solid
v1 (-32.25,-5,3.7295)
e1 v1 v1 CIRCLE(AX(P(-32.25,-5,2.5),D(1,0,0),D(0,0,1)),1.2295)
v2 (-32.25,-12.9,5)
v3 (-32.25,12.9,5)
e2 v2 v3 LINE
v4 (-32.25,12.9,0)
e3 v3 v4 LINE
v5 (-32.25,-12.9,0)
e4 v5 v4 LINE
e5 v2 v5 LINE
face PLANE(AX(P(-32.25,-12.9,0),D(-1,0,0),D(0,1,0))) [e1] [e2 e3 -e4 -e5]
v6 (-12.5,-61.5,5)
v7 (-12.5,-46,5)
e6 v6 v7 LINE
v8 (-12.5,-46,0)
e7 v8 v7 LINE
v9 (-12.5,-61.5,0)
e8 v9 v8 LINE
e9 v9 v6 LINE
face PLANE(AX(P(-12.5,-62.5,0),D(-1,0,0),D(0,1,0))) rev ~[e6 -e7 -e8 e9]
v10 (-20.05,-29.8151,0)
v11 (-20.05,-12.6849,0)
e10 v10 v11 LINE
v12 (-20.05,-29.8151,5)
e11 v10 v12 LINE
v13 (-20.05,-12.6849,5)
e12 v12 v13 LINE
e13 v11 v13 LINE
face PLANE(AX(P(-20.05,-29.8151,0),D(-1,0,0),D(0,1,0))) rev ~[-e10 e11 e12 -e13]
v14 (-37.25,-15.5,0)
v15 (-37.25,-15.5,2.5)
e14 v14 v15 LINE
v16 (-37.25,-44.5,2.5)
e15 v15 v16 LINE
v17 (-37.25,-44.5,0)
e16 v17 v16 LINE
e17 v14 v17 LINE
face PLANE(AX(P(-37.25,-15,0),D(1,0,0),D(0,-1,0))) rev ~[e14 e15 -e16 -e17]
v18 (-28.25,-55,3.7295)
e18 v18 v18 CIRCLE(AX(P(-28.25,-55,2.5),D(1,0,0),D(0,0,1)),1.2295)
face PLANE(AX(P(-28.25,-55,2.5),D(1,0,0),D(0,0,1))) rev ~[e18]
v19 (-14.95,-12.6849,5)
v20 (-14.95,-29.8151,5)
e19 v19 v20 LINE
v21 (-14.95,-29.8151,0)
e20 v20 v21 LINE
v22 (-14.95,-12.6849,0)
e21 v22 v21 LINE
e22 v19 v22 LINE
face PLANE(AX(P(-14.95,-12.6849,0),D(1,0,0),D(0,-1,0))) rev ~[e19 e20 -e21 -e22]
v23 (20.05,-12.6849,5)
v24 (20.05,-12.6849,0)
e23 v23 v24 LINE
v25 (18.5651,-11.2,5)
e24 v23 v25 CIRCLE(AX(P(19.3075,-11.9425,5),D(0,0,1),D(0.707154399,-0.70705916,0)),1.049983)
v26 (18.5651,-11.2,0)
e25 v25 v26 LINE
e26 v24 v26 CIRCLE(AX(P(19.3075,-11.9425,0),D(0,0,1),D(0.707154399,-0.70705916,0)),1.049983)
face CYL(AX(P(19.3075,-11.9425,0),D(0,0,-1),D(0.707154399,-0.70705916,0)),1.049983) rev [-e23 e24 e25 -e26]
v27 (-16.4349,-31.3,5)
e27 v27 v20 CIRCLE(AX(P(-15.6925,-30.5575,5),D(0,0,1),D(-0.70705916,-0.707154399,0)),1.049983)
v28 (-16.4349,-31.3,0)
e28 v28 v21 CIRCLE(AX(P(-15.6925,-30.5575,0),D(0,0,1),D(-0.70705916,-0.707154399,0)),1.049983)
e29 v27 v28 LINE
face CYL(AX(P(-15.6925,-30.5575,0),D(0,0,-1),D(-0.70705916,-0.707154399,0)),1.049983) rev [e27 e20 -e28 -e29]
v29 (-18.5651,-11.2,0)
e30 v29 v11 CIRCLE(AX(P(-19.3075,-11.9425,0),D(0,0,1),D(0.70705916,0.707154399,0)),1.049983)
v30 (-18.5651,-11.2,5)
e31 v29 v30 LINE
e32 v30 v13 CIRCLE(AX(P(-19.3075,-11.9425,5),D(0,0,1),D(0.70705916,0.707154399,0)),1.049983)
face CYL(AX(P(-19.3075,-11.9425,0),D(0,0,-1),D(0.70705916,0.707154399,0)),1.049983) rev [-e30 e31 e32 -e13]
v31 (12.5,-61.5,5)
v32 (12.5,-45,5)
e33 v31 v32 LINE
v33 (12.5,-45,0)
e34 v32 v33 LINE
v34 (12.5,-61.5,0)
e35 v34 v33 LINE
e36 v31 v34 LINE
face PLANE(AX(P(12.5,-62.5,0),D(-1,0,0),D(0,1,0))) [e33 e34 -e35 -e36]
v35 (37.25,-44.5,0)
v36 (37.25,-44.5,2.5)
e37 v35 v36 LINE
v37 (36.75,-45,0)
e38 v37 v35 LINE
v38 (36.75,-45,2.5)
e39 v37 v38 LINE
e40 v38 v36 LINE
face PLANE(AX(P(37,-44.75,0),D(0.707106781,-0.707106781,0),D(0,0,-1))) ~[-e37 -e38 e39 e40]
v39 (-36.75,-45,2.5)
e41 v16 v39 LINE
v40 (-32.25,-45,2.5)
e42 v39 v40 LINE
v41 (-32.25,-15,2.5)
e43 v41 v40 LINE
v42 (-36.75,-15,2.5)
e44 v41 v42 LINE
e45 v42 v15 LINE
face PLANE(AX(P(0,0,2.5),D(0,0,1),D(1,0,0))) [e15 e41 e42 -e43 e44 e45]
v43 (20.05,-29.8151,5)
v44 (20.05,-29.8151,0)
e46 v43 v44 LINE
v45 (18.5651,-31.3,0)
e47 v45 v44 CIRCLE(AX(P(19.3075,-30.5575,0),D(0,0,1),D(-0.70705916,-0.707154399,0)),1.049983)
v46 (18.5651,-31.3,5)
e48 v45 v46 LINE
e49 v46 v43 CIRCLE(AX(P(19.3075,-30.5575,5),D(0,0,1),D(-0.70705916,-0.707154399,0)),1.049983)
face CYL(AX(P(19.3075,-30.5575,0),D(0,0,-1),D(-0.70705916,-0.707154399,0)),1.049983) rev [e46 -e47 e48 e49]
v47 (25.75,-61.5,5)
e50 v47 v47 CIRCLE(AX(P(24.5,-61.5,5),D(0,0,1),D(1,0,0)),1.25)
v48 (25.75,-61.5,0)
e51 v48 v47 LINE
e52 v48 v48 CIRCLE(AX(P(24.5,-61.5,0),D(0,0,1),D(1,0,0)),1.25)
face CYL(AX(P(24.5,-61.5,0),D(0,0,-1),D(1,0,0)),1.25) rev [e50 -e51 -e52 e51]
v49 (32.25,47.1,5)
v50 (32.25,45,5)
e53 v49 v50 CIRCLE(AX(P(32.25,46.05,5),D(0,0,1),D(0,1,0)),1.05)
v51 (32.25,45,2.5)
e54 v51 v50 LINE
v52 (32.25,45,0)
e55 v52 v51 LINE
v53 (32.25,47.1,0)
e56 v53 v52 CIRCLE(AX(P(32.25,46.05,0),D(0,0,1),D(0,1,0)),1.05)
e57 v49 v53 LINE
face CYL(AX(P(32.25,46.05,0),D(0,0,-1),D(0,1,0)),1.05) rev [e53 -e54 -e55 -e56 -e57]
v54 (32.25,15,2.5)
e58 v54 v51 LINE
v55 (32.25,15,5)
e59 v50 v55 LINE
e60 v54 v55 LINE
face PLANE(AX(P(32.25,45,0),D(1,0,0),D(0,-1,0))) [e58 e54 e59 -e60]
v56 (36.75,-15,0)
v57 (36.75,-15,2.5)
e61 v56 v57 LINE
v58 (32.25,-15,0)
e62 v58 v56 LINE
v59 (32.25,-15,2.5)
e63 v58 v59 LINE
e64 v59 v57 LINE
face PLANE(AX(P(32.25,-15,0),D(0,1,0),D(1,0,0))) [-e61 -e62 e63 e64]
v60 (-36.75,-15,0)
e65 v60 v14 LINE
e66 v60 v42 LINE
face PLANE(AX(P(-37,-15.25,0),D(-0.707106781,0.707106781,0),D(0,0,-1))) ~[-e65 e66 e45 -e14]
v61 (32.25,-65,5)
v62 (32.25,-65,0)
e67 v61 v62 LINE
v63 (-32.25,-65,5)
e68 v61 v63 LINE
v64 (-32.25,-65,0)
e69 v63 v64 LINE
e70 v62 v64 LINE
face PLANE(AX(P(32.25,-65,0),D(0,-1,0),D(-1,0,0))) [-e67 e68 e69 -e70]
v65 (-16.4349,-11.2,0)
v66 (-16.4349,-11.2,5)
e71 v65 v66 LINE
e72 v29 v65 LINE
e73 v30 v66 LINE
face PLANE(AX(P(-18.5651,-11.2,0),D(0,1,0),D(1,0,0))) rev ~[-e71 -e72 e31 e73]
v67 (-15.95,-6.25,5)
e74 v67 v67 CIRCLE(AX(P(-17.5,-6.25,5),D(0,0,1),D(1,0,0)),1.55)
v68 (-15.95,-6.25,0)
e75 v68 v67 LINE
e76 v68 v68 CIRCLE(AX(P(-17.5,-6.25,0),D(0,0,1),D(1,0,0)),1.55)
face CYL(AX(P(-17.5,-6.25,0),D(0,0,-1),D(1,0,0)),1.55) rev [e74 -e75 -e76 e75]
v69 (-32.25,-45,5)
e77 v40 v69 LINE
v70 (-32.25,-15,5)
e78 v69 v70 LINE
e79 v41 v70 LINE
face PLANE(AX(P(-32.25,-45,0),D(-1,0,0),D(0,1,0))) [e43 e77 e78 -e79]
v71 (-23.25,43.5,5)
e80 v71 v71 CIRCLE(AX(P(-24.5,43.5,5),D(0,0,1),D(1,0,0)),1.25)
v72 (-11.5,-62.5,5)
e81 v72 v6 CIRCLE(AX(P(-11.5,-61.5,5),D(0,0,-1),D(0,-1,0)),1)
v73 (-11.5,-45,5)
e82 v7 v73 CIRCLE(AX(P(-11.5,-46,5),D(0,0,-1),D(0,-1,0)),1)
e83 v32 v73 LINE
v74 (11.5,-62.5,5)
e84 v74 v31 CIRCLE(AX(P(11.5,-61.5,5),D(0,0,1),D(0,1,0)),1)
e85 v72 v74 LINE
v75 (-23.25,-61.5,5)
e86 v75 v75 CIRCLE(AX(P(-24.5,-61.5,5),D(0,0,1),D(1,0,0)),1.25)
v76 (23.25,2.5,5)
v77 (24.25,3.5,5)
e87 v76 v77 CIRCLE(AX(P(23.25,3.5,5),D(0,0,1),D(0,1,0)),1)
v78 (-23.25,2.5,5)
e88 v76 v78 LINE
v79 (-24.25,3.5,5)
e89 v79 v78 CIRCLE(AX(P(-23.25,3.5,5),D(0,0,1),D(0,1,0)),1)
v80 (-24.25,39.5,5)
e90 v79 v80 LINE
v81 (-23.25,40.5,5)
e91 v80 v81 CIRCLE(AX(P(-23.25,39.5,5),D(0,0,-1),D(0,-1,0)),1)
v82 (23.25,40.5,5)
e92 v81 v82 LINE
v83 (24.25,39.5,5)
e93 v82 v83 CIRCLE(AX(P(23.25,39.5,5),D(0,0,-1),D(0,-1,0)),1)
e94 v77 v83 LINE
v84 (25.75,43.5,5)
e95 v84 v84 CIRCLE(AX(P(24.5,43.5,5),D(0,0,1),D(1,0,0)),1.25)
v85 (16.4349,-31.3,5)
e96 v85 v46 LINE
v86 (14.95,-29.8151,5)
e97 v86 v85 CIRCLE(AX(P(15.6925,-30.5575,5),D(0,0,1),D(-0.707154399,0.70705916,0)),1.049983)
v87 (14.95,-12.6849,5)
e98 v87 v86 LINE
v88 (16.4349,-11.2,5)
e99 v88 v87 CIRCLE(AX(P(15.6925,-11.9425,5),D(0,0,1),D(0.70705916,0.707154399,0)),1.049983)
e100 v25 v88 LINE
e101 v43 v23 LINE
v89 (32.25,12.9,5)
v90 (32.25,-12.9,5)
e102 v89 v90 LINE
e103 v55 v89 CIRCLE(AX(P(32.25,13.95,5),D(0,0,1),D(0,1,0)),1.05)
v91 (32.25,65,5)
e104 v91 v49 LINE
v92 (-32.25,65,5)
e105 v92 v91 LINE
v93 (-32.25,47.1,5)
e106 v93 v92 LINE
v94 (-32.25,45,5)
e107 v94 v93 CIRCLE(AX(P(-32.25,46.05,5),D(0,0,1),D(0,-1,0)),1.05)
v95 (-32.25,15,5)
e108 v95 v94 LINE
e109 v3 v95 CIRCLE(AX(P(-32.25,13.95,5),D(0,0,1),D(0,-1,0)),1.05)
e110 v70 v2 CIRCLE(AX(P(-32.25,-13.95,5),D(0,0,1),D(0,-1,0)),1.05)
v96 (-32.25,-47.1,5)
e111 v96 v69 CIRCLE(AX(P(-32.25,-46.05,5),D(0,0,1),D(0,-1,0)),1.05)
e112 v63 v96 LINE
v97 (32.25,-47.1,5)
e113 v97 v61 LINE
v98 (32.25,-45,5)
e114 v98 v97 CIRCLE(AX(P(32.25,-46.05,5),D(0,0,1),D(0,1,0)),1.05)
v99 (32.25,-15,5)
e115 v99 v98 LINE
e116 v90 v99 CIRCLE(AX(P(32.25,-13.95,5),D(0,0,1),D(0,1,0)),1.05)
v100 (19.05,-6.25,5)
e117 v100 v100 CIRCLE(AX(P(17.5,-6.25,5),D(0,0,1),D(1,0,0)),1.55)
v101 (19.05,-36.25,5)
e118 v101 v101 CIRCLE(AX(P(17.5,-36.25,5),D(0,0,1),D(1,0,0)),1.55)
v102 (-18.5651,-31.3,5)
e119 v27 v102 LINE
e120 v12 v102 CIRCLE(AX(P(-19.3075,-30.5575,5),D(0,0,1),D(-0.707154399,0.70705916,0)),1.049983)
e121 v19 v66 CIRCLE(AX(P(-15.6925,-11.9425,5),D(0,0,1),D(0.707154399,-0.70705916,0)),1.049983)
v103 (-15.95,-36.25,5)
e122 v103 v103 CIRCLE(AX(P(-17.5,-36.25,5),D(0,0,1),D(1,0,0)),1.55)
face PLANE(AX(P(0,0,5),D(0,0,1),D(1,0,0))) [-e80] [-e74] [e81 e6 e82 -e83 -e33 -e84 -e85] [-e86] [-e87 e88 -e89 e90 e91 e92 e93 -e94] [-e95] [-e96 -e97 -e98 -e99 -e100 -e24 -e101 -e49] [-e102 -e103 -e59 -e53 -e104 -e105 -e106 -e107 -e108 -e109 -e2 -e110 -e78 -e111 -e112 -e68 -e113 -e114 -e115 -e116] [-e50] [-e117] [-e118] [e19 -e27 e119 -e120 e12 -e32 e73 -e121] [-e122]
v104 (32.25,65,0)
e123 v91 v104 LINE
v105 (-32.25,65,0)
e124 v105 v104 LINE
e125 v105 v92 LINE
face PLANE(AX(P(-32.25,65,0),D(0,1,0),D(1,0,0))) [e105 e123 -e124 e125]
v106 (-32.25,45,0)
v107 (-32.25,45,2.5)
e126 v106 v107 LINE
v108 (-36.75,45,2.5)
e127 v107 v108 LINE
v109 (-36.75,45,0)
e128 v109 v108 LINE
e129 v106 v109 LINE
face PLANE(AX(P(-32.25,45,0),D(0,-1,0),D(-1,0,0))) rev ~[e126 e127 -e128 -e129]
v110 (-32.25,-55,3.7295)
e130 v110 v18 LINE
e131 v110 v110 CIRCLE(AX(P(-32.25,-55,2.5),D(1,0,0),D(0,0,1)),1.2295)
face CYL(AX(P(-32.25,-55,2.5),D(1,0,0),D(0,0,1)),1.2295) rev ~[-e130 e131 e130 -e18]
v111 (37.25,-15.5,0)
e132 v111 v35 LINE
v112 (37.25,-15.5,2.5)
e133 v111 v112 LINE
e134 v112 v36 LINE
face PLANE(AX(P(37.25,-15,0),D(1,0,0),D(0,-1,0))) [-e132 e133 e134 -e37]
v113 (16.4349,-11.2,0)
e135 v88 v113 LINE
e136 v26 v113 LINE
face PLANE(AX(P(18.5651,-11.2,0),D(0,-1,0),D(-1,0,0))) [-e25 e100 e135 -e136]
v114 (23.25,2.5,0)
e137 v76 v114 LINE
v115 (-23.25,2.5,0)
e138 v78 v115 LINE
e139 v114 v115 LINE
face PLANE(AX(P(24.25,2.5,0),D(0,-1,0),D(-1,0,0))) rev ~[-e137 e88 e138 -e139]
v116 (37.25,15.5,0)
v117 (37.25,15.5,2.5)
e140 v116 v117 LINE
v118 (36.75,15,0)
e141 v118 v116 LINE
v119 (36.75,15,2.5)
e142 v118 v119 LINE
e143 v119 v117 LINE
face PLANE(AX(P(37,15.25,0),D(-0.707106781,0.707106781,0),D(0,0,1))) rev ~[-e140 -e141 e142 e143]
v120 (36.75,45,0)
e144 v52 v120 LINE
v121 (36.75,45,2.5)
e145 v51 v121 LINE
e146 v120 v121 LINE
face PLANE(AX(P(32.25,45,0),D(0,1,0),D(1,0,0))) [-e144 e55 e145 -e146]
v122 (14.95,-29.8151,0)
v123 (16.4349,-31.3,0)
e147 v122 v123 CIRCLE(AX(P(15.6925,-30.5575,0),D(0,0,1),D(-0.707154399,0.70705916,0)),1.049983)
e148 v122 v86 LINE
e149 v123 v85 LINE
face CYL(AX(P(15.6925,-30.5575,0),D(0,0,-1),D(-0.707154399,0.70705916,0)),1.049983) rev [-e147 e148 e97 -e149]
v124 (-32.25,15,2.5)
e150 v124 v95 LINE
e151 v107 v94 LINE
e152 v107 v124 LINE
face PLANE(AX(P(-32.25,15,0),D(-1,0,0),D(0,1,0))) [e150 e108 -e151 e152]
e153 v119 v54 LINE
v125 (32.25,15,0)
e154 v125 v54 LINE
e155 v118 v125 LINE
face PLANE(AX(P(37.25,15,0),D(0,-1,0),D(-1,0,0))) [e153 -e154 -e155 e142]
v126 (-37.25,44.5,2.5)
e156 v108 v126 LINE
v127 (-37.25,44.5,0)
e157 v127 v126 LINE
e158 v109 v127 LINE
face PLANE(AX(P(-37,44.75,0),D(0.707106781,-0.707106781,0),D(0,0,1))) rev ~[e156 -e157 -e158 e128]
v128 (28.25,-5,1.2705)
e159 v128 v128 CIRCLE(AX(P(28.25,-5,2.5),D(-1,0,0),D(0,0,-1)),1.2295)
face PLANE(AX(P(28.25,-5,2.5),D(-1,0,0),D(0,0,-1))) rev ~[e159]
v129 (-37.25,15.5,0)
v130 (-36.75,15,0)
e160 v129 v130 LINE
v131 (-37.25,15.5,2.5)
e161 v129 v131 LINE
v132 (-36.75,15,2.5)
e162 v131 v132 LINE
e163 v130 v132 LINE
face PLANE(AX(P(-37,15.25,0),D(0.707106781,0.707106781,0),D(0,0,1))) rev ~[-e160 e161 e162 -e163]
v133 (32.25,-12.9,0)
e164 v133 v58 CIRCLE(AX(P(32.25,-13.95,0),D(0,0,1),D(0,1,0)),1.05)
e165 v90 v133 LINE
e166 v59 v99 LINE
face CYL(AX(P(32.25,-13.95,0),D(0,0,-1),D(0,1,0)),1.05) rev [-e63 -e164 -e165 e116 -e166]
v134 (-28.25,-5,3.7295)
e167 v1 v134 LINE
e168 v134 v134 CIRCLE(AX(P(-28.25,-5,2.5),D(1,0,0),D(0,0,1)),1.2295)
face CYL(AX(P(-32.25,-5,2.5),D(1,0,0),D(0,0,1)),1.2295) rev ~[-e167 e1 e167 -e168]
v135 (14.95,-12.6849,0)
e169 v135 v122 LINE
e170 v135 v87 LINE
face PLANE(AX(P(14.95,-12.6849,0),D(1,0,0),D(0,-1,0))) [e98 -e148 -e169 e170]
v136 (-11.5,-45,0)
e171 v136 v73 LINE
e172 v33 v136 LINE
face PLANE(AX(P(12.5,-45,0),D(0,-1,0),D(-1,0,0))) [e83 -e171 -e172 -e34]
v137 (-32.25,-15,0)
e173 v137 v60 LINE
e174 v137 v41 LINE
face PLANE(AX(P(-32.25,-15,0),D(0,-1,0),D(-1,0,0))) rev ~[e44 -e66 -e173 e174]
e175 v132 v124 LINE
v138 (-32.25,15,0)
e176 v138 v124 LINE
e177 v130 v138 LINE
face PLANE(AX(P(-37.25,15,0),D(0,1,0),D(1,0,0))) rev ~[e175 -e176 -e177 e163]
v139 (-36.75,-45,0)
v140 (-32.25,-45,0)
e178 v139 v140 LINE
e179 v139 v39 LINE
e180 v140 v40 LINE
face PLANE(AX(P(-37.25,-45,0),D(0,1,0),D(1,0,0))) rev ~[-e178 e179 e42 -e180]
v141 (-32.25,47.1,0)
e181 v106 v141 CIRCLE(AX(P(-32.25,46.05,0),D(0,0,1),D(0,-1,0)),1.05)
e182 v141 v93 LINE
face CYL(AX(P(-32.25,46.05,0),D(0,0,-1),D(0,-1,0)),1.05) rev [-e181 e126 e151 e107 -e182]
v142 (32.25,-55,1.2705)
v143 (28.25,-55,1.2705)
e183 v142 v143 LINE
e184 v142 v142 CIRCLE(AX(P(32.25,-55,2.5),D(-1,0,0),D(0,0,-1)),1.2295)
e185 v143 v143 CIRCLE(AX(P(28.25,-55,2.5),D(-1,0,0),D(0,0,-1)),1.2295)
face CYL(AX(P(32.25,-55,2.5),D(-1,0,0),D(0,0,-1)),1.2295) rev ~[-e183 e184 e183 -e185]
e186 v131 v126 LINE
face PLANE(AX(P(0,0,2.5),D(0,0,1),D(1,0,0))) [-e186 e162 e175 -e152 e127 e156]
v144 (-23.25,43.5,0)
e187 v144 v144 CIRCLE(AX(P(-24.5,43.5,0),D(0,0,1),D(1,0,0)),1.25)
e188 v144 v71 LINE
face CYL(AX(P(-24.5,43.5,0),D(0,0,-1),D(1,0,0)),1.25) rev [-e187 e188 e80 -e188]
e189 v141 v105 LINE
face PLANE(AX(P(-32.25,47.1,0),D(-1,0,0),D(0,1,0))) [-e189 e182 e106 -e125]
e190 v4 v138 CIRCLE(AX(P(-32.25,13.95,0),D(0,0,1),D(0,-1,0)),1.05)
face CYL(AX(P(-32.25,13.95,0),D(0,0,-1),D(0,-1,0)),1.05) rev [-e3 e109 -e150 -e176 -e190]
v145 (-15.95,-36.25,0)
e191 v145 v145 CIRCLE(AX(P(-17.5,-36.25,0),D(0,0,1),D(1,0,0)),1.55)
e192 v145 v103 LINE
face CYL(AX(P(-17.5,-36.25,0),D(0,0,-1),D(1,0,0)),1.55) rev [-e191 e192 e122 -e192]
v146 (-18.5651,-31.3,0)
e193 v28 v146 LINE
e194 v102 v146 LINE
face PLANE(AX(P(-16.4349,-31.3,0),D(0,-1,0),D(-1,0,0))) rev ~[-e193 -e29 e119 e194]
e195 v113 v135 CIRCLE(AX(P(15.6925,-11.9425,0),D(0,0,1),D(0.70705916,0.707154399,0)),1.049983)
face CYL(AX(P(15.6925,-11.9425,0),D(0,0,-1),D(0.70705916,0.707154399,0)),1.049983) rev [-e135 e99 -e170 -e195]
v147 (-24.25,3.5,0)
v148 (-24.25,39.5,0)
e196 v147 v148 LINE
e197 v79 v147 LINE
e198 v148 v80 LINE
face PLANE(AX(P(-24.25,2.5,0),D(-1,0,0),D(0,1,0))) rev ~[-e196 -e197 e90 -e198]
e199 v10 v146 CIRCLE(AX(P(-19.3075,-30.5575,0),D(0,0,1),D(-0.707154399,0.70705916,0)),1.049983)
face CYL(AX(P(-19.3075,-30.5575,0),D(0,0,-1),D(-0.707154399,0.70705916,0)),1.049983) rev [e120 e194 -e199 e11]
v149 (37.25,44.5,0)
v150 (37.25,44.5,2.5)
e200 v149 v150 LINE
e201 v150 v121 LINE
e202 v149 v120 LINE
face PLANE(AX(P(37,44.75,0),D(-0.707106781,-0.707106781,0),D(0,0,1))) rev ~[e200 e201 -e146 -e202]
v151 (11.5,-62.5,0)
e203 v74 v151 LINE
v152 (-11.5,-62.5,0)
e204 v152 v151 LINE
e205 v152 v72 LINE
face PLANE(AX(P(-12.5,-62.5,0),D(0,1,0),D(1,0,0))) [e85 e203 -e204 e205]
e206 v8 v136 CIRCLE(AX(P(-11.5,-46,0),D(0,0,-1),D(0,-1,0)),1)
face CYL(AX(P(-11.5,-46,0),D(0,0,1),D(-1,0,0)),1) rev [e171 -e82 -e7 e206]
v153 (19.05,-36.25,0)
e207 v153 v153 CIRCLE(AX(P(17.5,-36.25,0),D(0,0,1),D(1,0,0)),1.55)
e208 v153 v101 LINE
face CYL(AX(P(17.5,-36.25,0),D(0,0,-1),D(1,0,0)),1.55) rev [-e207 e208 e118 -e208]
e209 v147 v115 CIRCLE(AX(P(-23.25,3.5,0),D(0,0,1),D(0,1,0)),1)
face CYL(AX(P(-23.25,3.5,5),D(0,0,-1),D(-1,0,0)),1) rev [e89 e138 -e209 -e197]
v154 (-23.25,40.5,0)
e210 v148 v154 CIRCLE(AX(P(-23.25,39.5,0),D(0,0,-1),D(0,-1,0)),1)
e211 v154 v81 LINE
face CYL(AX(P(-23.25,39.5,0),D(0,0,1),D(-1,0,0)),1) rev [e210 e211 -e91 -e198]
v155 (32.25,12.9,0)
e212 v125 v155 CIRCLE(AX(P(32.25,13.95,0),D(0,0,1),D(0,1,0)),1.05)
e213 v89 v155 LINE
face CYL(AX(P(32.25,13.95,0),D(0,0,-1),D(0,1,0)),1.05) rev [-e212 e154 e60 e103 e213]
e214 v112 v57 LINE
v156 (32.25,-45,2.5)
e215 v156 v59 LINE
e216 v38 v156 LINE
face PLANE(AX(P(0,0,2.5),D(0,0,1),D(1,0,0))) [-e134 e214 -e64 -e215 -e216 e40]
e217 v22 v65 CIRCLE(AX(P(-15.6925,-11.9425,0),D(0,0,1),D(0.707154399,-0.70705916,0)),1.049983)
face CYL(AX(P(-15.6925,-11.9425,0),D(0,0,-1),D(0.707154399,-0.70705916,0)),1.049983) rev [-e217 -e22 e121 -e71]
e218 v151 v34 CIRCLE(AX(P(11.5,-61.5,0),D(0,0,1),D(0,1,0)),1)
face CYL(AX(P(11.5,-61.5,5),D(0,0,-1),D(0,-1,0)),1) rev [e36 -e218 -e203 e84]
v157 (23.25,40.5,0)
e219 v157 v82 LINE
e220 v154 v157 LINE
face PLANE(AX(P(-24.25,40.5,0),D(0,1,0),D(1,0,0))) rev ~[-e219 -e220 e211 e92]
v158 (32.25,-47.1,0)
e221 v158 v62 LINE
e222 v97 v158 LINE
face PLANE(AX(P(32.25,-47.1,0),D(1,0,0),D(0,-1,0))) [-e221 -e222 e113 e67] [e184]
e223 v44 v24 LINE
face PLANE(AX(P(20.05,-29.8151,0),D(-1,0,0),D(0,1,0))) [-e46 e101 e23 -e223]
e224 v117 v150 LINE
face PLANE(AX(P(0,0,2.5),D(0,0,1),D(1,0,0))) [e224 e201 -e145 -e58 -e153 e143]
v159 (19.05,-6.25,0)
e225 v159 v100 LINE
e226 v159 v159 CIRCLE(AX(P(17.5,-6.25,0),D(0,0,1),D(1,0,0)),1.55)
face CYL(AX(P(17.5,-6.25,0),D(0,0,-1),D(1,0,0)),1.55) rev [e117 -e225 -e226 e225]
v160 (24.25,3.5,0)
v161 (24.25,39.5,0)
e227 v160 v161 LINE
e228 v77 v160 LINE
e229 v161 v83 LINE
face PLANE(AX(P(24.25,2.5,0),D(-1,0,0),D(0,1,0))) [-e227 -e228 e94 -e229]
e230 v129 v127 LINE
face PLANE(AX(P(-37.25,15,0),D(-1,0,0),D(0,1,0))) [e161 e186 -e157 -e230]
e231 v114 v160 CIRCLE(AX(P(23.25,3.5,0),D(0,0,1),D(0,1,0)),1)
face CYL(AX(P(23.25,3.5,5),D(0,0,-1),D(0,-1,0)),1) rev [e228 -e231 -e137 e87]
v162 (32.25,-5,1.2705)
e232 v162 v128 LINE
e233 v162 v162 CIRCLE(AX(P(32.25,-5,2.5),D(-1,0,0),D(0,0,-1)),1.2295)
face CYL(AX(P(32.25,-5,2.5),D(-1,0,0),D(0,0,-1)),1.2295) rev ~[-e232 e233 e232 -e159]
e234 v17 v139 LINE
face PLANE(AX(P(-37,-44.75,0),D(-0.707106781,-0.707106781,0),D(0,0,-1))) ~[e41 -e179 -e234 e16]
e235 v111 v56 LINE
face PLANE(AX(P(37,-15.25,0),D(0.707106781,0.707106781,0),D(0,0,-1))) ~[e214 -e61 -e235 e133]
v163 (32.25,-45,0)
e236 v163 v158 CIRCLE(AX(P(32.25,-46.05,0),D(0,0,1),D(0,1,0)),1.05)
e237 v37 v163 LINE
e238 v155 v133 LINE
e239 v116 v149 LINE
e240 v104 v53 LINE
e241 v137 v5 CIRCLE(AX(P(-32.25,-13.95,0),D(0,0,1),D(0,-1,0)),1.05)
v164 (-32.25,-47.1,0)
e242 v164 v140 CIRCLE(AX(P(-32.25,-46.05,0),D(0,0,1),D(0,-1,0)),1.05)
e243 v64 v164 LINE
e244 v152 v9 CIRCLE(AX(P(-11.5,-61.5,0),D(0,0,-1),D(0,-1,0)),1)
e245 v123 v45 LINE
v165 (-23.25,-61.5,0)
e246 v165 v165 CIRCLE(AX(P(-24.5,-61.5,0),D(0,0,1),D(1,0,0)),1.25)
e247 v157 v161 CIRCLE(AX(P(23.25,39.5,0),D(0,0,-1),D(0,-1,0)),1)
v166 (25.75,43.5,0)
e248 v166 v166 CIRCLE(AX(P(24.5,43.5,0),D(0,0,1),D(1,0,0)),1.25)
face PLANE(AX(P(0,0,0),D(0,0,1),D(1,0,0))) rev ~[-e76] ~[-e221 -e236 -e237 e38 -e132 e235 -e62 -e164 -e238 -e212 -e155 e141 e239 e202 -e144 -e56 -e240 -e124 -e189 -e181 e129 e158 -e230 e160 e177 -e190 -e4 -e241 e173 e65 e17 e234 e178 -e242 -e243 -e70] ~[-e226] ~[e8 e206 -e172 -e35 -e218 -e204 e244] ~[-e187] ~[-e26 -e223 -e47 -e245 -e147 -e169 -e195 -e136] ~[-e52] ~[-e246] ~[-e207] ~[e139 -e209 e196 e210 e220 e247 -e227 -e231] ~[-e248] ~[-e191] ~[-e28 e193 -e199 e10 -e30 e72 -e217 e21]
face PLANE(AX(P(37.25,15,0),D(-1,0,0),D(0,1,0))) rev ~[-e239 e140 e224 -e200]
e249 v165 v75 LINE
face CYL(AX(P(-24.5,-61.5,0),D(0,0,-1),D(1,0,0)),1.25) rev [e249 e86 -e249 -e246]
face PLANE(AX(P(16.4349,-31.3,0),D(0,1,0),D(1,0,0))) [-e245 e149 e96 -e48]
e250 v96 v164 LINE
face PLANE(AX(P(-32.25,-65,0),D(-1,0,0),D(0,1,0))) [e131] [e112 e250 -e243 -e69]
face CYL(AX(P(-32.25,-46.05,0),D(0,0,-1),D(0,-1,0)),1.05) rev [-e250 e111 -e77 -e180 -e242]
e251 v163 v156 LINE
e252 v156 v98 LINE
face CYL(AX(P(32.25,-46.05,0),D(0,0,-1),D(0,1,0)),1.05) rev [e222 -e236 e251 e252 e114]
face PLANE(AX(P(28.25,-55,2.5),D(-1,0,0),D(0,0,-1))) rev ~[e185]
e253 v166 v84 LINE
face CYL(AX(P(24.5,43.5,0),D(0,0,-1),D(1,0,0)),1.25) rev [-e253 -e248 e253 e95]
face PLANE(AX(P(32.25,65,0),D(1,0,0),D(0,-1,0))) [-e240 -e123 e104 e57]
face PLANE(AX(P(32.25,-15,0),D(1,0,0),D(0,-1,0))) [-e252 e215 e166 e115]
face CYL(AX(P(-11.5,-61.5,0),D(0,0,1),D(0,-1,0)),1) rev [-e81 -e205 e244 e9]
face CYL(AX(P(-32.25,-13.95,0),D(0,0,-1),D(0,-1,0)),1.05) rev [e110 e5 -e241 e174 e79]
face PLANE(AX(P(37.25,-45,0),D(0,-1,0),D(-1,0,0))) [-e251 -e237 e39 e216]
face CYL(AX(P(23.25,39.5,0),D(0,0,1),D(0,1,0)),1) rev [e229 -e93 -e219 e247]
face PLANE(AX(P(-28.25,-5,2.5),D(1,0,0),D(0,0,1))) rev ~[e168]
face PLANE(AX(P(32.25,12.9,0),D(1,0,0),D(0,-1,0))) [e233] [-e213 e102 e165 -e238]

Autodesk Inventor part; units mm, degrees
ref_plane "YZ Plane" through (0, 0, 0) normal (1, 0, 0) x (0, 1, 0)
ref_plane "XZ Plane" through (0, 0, 0) normal (0, 1, 0) x (-1, 0, 0)
ref_plane "XY Plane" through (0, 0, 0) normal (0, 0, 1) x (1, 0, 0)
sketch "スケッチ1" plane through (0, 0, 0) normal (0, 0, 1) x (1, 0, 0)
  line L0 (-32.25, 65) -> (32.25, 65)
  line L1 (32.25, 65) -> (32.25, 47.1)
  line L2 (-32.25, -65) -> (-32.25, -47.1)
  line L3 (-32.25, 65) -> (32.25, -65) construction
  line L4 (32.25, 65) -> (-32.25, -65) construction
  line L5 (-32.25, 45) -> (-37.25, 45)
  line L6 (-37.25, 15) -> (-32.25, 15)
  line L7 (-37.25, 15) -> (-37.25, 45)
  line L8 (-32.25, -15) -> (-37.25, -15)
  line L9 (-37.25, -15) -> (-37.25, -45)
  line L10 (-37.25, -45) -> (-32.25, -45)
  arc A0 (-32.25, 45) -> (-32.25, 47.1) centre (-32.25, 46.05) ccw
  arc A1 (-32.25, 12.9) -> (-32.25, 15) centre (-32.25, 13.95) ccw
  arc A2 (-32.25, -15) -> (-32.25, -12.9) centre (-32.25, -13.95) ccw
  arc A3 (-32.25, -47.1) -> (-32.25, -45) centre (-32.25, -46.05) ccw
  line L11 (-32.25, 47.1) -> (-32.25, 65)
  line L12 (-32.25, 12.9) -> (-32.25, 15) construction
  line L13 (-32.25, -12.9) -> (-32.25, 12.9)
  line L14 (-32.25, -47.1) -> (-32.25, -45) construction
  line L15 (0, 65) -> (0, -65) construction
  arc A4 (32.25, -45) -> (32.25, -47.1) centre (32.25, -46.05) ccw
  line L16 (37.25, -45) -> (32.25, -45)
  line L17 (37.25, -15) -> (37.25, -45)
  line L18 (32.25, -15) -> (37.25, -15)
  arc A5 (32.25, -12.9) -> (32.25, -15) centre (32.25, -13.95) ccw
  arc A6 (32.25, 15) -> (32.25, 12.9) centre (32.25, 13.95) ccw
  line L19 (37.25, 15) -> (37.25, 45)
  line L20 (37.25, 15) -> (32.25, 15)
  line L21 (32.25, 45) -> (37.25, 45)
  arc A7 (32.25, 47.1) -> (32.25, 45) centre (32.25, 46.05) ccw
  line L22 (32.25, 47.1) -> (32.25, 45) construction
  line L23 (32.25, 12.9) -> (32.25, -12.9)
  line L24 (32.25, -47.1) -> (32.25, -65)
  line L25 (32.25, -12.9) -> (32.25, -15) construction
  line L26 (-32.25, -15) -> (-32.25, -12.9) construction
  line L27 (-32.25, -45) -> (-32.25, -15)
  line L28 (32.25, -15) -> (32.25, -45)
  line L29 (32.25, -45) -> (32.25, -47.1) construction
  line L30 (-20, -11.25) -> (-15, -11.25) construction
  line L31 (-15, -11.25) -> (-15, -31.25) construction
  line L32 (-15, -31.25) -> (-20, -31.25) construction
  line L33 (-20, -31.25) -> (-20, -11.25) construction
  line L34 (-20, -11.25) -> (-15, -31.25) construction
  line L35 (-15, -11.25) -> (-20, -31.25) construction
  line L36 (-20, 2.5) -> (-15, 2.5) construction
  line L37 (-15, 2.5) -> (-15, -45) construction
  line L38 (-15, -45) -> (-20, -45) construction
  line L39 (-20, -45) -> (-20, 2.5) construction
  line L40 (-20, 2.5) -> (-15, -45) construction
  line L41 (-15, 2.5) -> (-20, -45) construction
  circle A8 centre (-17.5, -36.25) radius 1.55
  line L42 (-20, -21.25) -> (-15, -21.25) construction
  line L43 (-17.5, 2.5) -> (-17.5, -45) construction
  circle A9 centre (-17.5, -6.25) radius 1.55
  circle A10 centre (17.5, -36.25) radius 1.55
  circle A11 centre (17.5, -6.25) radius 1.55
  line L44 (32.25, -65) -> (16.75, -65)
  line L45 (-12.5, -62.5) -> (-12.5, -45)
  line L46 (-12.5, -45) -> (0, -45)
  line L47 (12.5, -62.5) -> (12.5, -45)
  line L48 (12.5, -45) -> (0, -45)
  line L49 (-16.75, -65) -> (-32.25, -65)
  line L50 (16.75, -65) -> (-16.75, -65)
  line L51 (-32.25, 45) -> (-32.25, 47.1) construction
  line L52 (-32.25, 15) -> (-32.25, 45)
  line L53 (32.25, 15) -> (32.25, 12.9) construction
  line L54 (32.25, 45) -> (32.25, 15)
  circle A12 centre (-24.5, 43.5) radius 1.25
  line L55 (-32.25, 0) -> (32.25, 0) construction
  line L56 (-32.25, 46.5) -> (32.25, 46.5) construction
  circle A13 centre (-24.5, -61.5) radius 1.25
  circle A14 centre (24.5, 43.5) radius 1.25
  circle A15 centre (24.5, -61.5) radius 1.25
  circle A16 centre (-17.5, -36.25) radius 3 construction
  line L57 (-12.5, -62.5) -> (12.5, -62.5)
  line L58 (-24.25, 40.5) -> (24.25, 40.5)
  line L59 (24.25, 2.5) -> (-24.25, 2.5)
  line L60 (-24.25, 2.5) -> (-24.25, 40.5)
  line L61 (24.25, 2.5) -> (24.25, 40.5)
  line L62 (-20.05, -29.8151) -> (-18.5651, -31.3) construction
  line L63 (-19.3075, -30.5575) -> (-20.05, -31.3) construction
  arc A17 (-20.05, -29.8151) -> (-18.5651, -31.3) centre (-19.3075, -30.5575) ccw
  line L64 (-20.05, -11.2) -> (-18.5651, -11.2) construction
  line L65 (-14.95, -11.2) -> (-14.95, -12.6849) construction
  line L66 (-14.95, -31.3) -> (-16.4349, -31.3) construction
  line L67 (-20.05, -31.3) -> (-20.05, -29.8151) construction
  line L68 (-20.05, -11.2) -> (-14.95, -31.3) construction
  line L69 (-14.95, -11.2) -> (-20.05, -31.3) construction
  arc A18 (-16.4349, -31.3) -> (-14.95, -29.8151) centre (-15.6925, -30.5575) ccw
  arc A19 (-18.5651, -11.2) -> (-20.05, -12.6849) centre (-19.3075, -11.9425) ccw
  arc A20 (-14.95, -12.6849) -> (-16.4349, -11.2) centre (-15.6925, -11.9425) ccw
  line L70 (-20.05, -29.8151) -> (-20.05, -12.6849)
  line L71 (-18.5651, -31.3) -> (-20.05, -31.3) construction
  line L72 (-16.4349, -31.3) -> (-18.5651, -31.3)
  line L73 (-14.95, -29.8151) -> (-14.95, -31.3) construction
  line L74 (-20.05, -12.6849) -> (-20.05, -11.2) construction
  line L75 (-18.5651, -11.2) -> (-16.4349, -11.2)
  line L76 (-16.4349, -11.2) -> (-14.95, -11.2) construction
  line L77 (-14.95, -12.6849) -> (-14.95, -29.8151)
  arc A21 (18.5651, -31.3) -> (20.05, -29.8151) centre (19.3075, -30.5575) ccw
  arc A22 (14.95, -29.8151) -> (16.4349, -31.3) centre (15.6925, -30.5575) ccw
  arc A23 (16.4349, -11.2) -> (14.95, -12.6849) centre (15.6925, -11.9425) ccw
  arc A24 (20.05, -12.6849) -> (18.5651, -11.2) centre (19.3075, -11.9425) ccw
  line L78 (20.05, -29.8151) -> (20.05, -12.6849)
  line L79 (16.4349, -31.3) -> (18.5651, -31.3)
  line L80 (18.5651, -11.2) -> (16.4349, -11.2)
  line L81 (14.95, -12.6849) -> (14.95, -29.8151)
  line L82 (-32.25, -65) -> (-32.25, -70)
  line L83 (-32.25, -70) -> (32.25, -70)
  line L84 (32.25, -70) -> (32.25, -65)
  point P0 (0, 0)
  point P1 (0, 0)
  point P2 (0, 0)
  point P3 (28, 15)
  point P4 (28, 45)
  point P5 (-17.5, -21.25)
  point P6 (28, 45)
  point P7 (28, 15)
  dimension "d0" = 64.5
  dimension "d1" = 130
  dimension "d2" = 20
  dimension "d3" = 30
  dimension "d4" = 30
  dimension "d5" = 30
  dimension "d6" = 1.05
  dimension "d7" = 1.05
  dimension "d8" = 1.05
  dimension "d9" = 1.05
  dimension "d10" = 5
  dimension "d23" = 15
  dimension "d24" = 5
  dimension "d25" = 20
  dimension "d28" = 3.1
  dimension "d72" = 47.5
  dimension "d103" = 12.25
  dimension "d109" = 71.25
  dimension "d111" = 20
  dimension "d113" = 7.75
  dimension "d114" = 2.5
  dimension "d115" = 18.5
  dimension "d116" = 3
  dimension "d117" = 2.5
  dimension "d118" = 7.75
  dimension "d119" = 3.5
  dimension "d120" = 25
  dimension "d121" = 6
  dimension "d124" = 2.5
  dimension "d126" = 8
  dimension "d128" = 6
  dimension "d130" = 1.05
  dimension "d131" = 0.05
  dimension "d132" = 0.05
  dimension "d133" = 5
  dimension "d157" = 25
  dimension "d158" = 30
extrude "押し出し1" add sketch "スケッチ1" along normal blind 2.5 contours L0 L1 A7 L54 A6 L23 A5 L28 A4 L24 L44 L50 L49 L2 A3 L27 A2 L13 A1 L52 A0 L11 | L52 L6 L7 L5 | L21 L19 L20 L54 | L27 L10 L9 L8 | L18 L17 L16 L28
extrude "押し出し2" add sketch "スケッチ1" along normal blind 5 contours L0 L1 A7 L54 A6 L23 A5 L28 A4 L24 L44 L50 L49 L2 A3 L27 A2 L13 A1 L52 A0 L11
fillet "フィレット1" radius 1 7 edges at (-12.5, -45, 2.5) (-12.5, -62.5, 2.5) (12.5, -62.5, 2.5) (-24.25, 40.5, 2.5) (24.25, 40.5, 2.5) (24.25, 2.5, 2.5) (-24.25, 2.5, 2.5)
sketch "スケッチ7" plane through (32.25, -70, 0) normal (1, 0, 0) x (0, 0, -1)
  line L0 (0, 55) -> (-2.5, 55) projected
  line L1 (0, 57.1) -> (0, 82.9) projected
  line L2 (0, 5) -> (0, 22.9) projected
  point P0 (0, 70)
  point P1 (-2.5, 15)
  point P2 (-2.5, 65)
  point P3 (0, 25)
  dimension "d136" = 10
  dimension "d137" = 10
  dimension "d138" = 2.5
  dimension "d139" = 2.5
hole "穴6" at (32.25, -55, 2.5) at (32.25, -5, 2.5) direction (-1, 0, 0) diameter 2.459 depth 4 thread size "M3x0.5" class "6H" standard "ISO Metric profile"
sketch "スケッチ8" plane through (-32.25, -70, 0) normal (-1, 0, 0) x (0, 0, 1)
  circle A0 centre (2.5, 15) radius 1.2295 projected
  circle A1 centre (2.5, 65) radius 1.2295 projected
  point P0 (0, 70)
  point P1 (2.5, 15)
  point P2 (2.5, 65)
hole "穴7" at (-32.25, -5, 2.5) at (-32.25, -55, 2.5) direction (1, 0, 0) diameter 2.459 depth 4 thread size "M3x0.5" class "6H" standard "ISO Metric profile"
chamfer "面取り2" distance 0.5 angle 45 8 edges at (-37.25, -45, 1.25) (-37.25, -15, 1.25) (-37.25, 15, 1.25) (-37.25, 45, 1.25) (37.25, 15, 1.25) (37.25, 45, 1.25) (37.25, -15, 1.25) (37.25, -45, 1.25)
equation "\"d2\" = -0.5 * d4 + 0.5 * d1 - d3"
equation "\"d5\" = d3"
equation "\"d7\" = d6"
equation "\"d8\" = d7"
equation "\"d9\" = d8"
properties part number "Cockpit_upper_bottom_frame" material "アセタール樹脂、黒"
